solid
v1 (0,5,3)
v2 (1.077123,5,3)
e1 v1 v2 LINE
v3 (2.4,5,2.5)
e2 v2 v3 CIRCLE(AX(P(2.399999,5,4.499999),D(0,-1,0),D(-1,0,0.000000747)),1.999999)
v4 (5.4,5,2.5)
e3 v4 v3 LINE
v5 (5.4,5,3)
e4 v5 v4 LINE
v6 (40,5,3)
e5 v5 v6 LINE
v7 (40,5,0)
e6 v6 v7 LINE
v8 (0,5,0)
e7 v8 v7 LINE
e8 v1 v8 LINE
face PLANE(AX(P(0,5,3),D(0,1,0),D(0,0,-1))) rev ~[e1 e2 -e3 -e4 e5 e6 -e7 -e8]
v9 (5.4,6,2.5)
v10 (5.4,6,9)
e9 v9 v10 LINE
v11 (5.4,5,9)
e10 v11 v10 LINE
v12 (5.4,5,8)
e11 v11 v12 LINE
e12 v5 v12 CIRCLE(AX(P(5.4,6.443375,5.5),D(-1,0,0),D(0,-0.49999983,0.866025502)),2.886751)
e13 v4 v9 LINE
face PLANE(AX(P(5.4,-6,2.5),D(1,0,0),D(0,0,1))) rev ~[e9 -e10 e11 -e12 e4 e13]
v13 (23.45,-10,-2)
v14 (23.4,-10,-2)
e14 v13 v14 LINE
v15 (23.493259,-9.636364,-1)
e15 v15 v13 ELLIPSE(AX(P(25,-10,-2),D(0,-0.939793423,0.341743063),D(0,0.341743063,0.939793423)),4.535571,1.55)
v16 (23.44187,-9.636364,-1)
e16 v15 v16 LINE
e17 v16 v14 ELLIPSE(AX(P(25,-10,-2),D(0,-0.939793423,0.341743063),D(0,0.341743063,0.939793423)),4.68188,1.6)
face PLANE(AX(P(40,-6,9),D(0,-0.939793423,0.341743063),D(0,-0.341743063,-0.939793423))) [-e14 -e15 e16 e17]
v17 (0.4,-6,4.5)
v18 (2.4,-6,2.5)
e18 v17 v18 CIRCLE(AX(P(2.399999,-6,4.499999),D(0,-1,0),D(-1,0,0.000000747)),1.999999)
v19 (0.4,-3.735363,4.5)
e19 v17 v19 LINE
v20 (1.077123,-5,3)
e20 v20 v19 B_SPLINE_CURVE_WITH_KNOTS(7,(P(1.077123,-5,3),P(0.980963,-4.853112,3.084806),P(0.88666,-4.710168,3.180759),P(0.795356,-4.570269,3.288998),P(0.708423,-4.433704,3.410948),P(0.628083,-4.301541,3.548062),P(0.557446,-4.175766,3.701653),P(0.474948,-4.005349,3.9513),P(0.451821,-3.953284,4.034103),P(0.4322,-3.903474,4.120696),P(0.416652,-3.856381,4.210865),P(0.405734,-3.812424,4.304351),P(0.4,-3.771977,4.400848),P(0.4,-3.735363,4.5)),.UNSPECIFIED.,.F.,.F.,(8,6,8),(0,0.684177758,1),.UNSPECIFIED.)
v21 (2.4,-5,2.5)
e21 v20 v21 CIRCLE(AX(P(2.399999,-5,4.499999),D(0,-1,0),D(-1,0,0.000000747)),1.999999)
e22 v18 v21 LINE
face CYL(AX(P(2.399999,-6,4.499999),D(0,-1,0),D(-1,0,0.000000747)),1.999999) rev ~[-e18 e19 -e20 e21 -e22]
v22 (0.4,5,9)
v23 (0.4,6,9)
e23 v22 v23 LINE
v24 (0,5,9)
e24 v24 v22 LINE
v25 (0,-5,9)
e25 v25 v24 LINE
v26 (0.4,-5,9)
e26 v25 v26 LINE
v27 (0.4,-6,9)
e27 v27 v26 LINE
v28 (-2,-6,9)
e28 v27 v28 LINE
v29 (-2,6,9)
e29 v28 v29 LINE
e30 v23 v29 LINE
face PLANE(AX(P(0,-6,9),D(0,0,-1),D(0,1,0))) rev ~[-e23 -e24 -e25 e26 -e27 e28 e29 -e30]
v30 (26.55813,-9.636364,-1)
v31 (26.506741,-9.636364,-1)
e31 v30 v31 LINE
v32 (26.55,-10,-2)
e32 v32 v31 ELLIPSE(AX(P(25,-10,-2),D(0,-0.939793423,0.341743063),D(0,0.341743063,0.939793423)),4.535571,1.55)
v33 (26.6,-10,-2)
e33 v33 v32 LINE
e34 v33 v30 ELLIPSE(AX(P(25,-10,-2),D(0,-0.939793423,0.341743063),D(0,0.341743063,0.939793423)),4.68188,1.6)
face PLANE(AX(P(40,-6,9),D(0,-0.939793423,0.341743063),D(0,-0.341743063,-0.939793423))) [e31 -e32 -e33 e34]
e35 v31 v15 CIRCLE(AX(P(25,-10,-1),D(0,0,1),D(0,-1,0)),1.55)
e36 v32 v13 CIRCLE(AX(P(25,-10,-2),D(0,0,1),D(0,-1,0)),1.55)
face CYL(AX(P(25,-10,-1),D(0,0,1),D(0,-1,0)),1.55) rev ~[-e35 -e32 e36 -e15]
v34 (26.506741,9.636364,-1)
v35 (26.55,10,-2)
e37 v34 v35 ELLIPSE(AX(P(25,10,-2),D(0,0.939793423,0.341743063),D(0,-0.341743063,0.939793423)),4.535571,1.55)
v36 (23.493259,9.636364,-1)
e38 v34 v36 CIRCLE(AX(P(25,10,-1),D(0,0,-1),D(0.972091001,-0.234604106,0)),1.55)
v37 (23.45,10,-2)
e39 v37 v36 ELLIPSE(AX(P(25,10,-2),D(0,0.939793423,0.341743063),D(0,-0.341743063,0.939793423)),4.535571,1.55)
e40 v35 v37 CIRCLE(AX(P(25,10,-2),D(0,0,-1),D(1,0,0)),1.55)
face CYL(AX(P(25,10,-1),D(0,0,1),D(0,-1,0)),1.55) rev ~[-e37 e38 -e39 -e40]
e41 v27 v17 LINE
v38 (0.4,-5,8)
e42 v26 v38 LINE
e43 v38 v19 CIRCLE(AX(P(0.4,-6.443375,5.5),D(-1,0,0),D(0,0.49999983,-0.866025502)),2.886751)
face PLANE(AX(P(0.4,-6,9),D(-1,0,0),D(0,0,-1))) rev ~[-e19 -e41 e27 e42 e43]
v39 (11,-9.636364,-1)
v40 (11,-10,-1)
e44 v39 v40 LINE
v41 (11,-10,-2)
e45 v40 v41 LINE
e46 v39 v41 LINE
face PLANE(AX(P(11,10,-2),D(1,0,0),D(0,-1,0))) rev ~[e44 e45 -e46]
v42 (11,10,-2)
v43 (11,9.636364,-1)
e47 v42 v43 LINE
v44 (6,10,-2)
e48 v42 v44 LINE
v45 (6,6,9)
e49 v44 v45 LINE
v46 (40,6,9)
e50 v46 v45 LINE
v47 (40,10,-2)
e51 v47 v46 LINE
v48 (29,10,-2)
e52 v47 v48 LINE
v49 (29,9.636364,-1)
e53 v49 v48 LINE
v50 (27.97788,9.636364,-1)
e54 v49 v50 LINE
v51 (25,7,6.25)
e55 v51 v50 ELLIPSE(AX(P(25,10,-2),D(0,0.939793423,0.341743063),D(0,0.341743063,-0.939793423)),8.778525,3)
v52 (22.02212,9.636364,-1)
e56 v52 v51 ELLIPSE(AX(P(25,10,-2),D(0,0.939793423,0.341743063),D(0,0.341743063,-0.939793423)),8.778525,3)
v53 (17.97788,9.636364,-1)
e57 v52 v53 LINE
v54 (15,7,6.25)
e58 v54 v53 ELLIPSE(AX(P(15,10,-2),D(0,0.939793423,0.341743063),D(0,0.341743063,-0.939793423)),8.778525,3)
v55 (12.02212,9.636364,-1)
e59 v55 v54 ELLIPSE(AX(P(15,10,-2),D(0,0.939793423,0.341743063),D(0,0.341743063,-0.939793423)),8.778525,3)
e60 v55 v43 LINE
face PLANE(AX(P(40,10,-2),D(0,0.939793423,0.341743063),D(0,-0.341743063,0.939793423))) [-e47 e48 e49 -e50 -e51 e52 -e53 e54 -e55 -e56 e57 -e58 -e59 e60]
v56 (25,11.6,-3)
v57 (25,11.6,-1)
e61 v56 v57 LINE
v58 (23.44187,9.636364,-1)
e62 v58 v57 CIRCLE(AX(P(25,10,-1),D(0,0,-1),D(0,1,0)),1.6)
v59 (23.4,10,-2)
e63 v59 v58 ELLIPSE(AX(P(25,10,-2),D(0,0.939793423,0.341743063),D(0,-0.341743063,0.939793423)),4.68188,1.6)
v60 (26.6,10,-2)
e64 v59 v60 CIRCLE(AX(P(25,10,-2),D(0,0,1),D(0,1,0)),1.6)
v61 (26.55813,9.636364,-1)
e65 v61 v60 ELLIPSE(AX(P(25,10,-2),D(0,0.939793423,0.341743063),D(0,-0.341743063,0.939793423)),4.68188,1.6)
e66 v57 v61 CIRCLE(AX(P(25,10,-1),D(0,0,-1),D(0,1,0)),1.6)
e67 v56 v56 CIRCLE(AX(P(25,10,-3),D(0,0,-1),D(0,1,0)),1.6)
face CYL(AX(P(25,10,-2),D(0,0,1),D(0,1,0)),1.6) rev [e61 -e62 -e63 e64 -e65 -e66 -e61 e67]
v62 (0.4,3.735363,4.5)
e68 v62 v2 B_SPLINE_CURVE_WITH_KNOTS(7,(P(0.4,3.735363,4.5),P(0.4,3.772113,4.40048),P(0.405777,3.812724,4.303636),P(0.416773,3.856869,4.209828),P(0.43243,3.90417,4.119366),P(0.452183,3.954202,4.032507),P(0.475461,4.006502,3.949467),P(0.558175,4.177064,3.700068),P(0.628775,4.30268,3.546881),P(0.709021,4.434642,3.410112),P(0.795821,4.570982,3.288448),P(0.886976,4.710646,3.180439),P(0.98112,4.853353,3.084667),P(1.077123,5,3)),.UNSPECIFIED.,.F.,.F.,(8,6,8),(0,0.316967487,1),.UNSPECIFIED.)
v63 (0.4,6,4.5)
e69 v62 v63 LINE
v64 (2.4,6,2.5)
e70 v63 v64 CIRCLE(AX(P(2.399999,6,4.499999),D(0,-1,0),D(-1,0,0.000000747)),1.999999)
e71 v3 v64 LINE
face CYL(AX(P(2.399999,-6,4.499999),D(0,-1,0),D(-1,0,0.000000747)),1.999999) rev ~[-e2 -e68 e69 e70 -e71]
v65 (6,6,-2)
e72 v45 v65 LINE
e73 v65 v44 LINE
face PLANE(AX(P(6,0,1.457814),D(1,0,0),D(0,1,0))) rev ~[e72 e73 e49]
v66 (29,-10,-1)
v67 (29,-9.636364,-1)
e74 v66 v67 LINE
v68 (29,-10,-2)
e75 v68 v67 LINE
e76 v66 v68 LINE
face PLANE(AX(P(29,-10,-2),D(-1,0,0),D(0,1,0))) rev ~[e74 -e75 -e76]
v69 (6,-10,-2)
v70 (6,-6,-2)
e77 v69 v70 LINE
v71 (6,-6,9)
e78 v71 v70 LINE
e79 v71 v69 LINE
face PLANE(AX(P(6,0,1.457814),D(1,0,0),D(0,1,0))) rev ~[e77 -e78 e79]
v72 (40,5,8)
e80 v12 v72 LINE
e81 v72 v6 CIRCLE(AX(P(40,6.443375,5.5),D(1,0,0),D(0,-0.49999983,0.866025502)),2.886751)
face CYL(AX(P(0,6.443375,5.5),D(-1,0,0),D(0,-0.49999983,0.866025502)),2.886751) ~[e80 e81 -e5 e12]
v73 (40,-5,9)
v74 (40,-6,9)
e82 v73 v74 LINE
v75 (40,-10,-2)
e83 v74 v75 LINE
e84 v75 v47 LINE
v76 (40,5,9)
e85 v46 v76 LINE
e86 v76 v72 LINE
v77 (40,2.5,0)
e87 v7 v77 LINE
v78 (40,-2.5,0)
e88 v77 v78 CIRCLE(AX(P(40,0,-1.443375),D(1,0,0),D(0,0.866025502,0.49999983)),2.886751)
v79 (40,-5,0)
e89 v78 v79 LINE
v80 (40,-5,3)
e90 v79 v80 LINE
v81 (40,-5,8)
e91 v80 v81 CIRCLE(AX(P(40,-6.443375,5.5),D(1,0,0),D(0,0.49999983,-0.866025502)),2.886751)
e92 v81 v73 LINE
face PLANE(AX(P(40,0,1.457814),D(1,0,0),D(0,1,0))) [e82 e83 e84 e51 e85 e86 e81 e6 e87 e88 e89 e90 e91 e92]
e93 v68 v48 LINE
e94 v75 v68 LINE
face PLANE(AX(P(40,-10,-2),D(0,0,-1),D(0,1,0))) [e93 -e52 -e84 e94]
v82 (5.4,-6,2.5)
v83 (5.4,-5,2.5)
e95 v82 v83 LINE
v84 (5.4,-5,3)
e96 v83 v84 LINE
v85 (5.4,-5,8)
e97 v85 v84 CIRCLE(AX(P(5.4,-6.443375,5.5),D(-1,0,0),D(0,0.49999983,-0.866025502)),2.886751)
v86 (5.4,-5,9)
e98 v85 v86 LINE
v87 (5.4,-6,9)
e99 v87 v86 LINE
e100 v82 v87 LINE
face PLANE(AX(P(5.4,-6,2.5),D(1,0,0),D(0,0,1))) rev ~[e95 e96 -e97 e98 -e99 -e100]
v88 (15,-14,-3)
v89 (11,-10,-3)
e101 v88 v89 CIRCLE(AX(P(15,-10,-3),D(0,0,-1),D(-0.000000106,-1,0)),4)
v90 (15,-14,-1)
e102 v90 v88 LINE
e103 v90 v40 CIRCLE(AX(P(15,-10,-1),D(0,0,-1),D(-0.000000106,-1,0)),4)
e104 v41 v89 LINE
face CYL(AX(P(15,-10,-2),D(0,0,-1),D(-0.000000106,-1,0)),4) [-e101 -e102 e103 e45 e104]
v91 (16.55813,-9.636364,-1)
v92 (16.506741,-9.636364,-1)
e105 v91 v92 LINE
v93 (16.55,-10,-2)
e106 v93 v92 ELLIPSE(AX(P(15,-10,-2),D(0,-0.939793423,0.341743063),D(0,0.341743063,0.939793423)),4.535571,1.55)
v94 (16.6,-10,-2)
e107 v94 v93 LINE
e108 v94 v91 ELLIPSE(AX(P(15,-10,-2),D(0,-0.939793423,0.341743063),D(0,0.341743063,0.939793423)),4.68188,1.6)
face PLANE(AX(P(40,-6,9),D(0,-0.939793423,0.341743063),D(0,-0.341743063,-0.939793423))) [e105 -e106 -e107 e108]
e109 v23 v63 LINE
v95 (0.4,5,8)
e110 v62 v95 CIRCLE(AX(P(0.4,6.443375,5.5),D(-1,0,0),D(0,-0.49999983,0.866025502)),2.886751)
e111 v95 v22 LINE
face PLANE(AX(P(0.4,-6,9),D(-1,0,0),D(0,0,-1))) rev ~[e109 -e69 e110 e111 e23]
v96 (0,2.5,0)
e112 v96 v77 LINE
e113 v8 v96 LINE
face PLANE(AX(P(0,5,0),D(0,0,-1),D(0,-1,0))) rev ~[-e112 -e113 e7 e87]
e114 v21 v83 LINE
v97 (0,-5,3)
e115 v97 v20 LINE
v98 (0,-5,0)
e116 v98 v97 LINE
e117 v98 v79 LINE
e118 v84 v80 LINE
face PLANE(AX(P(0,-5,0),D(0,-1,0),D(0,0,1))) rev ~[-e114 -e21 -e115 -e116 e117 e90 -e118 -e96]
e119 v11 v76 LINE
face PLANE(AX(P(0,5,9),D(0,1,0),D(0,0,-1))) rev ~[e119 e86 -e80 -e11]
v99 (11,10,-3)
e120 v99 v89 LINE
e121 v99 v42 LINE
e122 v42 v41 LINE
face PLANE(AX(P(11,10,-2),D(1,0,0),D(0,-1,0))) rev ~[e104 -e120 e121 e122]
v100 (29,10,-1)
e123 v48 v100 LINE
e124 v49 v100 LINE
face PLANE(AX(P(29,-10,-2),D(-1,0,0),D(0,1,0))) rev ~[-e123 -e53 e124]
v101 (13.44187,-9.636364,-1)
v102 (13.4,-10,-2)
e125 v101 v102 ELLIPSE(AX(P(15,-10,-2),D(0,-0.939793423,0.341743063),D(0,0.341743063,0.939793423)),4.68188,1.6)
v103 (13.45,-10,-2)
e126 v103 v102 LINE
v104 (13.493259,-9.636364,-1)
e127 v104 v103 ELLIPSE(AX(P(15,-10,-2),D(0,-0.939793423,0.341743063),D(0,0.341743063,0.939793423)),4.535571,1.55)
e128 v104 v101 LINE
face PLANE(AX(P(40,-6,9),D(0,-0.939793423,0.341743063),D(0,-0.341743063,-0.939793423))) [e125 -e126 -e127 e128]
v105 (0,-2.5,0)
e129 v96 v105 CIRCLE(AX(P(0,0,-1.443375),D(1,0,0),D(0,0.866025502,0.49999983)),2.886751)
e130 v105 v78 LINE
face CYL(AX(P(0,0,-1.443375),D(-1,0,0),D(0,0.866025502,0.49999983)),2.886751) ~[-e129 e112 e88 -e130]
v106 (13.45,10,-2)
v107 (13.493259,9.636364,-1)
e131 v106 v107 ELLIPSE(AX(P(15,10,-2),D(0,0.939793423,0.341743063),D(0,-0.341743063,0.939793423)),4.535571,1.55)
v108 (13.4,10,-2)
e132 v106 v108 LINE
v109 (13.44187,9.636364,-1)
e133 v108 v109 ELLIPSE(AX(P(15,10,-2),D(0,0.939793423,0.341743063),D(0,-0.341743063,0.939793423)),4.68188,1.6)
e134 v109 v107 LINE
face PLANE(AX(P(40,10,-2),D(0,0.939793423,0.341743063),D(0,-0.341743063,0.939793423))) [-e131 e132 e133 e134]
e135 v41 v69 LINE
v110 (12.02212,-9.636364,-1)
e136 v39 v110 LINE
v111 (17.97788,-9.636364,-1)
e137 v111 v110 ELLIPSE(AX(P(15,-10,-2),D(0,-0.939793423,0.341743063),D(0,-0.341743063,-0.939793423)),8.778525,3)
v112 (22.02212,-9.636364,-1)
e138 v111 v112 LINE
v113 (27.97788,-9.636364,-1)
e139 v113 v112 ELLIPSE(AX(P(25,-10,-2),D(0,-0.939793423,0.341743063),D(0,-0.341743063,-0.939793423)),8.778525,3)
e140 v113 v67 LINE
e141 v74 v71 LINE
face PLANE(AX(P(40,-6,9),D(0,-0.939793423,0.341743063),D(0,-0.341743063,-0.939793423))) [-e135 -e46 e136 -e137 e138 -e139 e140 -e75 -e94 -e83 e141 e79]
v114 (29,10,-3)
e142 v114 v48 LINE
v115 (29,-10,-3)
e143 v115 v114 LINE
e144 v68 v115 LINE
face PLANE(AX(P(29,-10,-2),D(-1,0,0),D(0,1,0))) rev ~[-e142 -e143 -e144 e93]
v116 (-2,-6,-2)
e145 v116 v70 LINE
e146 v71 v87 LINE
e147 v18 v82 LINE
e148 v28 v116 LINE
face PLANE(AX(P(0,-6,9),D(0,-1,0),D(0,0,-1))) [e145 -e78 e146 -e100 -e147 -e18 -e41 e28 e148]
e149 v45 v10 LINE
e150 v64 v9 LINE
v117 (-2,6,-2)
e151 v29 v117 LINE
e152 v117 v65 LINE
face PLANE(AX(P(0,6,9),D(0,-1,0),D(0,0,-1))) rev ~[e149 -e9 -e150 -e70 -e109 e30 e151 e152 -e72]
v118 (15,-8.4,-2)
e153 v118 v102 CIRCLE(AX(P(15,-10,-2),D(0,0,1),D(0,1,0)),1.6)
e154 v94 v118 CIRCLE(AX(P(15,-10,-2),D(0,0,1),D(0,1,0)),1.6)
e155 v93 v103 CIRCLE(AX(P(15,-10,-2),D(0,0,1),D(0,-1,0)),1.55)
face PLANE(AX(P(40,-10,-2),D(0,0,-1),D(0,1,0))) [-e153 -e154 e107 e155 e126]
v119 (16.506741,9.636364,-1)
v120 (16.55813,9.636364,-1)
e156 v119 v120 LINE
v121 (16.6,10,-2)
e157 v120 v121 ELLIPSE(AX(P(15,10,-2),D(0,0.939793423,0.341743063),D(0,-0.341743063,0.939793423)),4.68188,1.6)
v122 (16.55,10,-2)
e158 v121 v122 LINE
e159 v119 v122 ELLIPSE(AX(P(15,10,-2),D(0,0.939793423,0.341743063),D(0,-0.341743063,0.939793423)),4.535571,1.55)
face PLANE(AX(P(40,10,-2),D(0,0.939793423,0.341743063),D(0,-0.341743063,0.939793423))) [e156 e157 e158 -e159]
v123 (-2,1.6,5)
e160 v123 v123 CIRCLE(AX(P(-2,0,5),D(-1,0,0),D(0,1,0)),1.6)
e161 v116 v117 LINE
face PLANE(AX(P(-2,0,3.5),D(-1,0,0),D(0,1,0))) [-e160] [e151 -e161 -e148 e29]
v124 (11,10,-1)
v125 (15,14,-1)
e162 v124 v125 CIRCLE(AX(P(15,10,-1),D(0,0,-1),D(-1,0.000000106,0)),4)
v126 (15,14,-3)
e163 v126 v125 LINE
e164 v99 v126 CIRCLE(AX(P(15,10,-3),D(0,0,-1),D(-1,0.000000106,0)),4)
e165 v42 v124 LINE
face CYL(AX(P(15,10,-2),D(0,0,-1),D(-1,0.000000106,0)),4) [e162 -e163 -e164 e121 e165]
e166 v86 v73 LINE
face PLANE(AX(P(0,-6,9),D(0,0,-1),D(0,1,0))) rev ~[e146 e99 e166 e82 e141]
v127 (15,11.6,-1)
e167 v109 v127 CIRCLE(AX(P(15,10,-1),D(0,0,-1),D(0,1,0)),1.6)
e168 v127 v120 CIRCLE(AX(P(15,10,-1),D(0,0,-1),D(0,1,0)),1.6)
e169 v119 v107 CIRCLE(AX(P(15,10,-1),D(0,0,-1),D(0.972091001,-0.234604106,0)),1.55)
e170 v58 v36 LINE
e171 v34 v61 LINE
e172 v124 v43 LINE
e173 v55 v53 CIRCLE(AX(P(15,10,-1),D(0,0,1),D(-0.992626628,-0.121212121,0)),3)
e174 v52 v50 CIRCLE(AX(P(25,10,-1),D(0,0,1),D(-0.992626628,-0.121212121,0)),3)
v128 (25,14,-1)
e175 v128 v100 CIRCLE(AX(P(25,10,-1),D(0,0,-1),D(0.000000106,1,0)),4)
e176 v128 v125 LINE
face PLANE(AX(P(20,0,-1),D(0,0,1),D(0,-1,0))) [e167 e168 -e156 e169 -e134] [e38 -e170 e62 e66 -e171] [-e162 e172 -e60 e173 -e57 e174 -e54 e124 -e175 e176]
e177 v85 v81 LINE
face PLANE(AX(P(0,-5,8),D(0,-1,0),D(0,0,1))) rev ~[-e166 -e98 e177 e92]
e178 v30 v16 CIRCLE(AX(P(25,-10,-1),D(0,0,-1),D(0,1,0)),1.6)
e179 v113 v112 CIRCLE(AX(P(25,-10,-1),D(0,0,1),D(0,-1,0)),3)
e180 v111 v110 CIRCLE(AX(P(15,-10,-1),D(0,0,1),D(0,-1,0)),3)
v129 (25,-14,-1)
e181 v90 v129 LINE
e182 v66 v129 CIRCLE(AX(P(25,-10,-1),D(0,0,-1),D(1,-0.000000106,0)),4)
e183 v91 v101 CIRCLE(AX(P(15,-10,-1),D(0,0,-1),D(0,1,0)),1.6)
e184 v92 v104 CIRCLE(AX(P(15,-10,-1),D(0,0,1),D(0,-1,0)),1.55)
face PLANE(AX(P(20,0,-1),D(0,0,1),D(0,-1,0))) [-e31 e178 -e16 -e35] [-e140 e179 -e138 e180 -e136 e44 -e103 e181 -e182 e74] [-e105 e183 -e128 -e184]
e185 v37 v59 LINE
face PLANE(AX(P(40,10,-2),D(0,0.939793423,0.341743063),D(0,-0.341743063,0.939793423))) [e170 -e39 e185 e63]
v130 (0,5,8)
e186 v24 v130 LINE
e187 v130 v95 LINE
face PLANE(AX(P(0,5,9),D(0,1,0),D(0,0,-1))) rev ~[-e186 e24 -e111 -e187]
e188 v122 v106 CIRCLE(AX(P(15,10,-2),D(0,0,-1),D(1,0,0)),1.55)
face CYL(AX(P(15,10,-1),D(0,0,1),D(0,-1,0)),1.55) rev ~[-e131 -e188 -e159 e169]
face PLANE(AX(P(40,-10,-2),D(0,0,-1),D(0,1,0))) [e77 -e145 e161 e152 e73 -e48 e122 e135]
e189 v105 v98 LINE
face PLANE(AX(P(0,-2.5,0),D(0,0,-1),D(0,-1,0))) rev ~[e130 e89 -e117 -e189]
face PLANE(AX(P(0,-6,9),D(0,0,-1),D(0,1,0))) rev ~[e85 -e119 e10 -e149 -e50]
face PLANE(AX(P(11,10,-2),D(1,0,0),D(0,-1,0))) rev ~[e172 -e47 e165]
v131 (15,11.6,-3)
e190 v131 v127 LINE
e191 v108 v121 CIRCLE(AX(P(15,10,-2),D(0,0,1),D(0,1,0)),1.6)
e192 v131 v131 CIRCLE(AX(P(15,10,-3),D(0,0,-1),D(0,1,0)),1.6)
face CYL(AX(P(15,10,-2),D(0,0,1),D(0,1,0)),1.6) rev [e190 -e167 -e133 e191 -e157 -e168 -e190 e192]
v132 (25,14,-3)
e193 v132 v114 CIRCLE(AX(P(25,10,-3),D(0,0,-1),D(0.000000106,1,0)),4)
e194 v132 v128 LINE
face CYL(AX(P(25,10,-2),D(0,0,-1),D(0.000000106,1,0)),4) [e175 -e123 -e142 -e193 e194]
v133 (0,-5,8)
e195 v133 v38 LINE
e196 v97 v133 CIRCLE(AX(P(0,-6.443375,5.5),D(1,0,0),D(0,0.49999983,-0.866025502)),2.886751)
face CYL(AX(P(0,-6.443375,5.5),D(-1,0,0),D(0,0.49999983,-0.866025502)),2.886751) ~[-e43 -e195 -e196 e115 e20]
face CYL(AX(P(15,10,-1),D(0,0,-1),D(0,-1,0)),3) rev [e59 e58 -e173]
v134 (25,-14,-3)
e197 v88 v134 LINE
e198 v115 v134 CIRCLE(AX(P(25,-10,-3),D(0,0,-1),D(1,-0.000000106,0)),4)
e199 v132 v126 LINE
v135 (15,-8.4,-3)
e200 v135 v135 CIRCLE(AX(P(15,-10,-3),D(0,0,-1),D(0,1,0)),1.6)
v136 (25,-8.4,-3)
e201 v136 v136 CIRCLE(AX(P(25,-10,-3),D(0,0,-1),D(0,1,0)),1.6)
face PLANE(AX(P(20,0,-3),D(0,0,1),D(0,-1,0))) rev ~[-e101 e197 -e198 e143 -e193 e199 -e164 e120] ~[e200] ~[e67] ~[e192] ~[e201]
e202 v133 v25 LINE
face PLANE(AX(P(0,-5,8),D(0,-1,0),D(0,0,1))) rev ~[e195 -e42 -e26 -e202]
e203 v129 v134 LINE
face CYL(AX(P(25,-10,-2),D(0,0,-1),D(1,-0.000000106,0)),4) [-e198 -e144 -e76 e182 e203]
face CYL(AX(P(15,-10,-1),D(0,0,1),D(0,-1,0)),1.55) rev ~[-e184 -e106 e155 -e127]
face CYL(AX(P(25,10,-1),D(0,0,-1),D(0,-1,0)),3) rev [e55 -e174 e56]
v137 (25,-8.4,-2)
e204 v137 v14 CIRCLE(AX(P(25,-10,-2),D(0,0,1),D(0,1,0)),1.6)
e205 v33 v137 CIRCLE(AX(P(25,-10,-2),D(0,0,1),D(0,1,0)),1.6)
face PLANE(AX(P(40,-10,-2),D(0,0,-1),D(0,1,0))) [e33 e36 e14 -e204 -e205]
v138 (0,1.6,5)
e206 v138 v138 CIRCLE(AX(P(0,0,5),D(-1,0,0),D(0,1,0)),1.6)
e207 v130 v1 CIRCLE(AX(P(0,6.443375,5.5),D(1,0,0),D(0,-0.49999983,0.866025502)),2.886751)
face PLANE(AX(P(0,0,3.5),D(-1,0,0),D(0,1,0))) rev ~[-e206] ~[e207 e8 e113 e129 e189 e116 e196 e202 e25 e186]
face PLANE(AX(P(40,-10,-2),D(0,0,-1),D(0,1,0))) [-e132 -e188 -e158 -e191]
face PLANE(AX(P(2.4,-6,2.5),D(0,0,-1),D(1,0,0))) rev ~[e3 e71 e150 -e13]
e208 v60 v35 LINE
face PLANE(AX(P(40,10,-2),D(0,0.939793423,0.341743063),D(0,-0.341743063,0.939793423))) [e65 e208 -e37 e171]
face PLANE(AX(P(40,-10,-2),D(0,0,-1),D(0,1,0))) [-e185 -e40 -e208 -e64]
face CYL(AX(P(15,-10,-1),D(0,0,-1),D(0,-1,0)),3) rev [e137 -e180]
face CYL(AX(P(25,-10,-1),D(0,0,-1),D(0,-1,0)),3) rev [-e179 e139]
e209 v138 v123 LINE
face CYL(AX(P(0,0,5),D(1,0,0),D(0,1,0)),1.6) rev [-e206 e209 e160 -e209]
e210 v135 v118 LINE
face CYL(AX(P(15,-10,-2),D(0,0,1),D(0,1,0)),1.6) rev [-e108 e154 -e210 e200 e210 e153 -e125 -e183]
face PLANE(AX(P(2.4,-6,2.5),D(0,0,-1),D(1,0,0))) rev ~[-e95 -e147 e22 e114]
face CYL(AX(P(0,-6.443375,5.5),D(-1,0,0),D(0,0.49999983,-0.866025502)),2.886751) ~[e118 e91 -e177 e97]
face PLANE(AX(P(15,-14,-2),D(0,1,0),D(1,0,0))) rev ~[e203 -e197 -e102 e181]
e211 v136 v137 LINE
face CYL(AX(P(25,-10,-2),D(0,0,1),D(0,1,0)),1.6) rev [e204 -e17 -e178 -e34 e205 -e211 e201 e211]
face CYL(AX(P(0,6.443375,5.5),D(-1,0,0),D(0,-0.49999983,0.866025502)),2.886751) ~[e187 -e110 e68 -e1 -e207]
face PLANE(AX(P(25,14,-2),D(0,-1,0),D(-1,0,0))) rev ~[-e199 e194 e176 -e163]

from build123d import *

# Parameters (mm, degrees)
PAD_DEPTH       = 40
SKETCH001_W     = 12
SKETCH001_H     = 11
SKETCH001_R     = 1.6
PAD001_DEPTH    = 2
SKETCH002_R     = 1.6
PAD002_DEPTH    = 1
POCKET_DEPTH    = 20.001
PAD003_DEPTH    = 34
SKETCH005_R     = 3
POCKET001_DEPTH = 11
SKETCH006_R     = 1.55
POCKET002_DEPTH = 5


with BuildPart() as part:
    # Sketch → Pad (new body)
    with BuildSketch(Plane.YZ):
        with BuildLine():
            Line((-5, 8), (-5, 9))
            Line((-5, 9), (-6, 9))
            Line((-6, 9), (-6, -2))
            Line((-6, -2), (6, -2))
            Line((6, -2), (6, 9))
            Line((6, 9), (5, 9))
            Line((5, 9), (5, 8))
            ThreePointArc((5, 8), (3.556624, 5.5), (5, 3))
            Line((5, 3), (5, 0))
            Line((5, 0), (2.5, 0))
            ThreePointArc((2.5, 0), (0, 1.443376), (-2.5, 0))
            Line((-2.5, 0), (-5, 0))
            Line((-5, 0), (-5, 3))
            ThreePointArc((-5, 3), (-3.556624, 5.5), (-5, 8))
        make_face()
    extrude(amount=PAD_DEPTH)

    # Sketch001 (on Face15 of Pad) → Pad001 (join)
    with BuildSketch(Plane(origin=(0, 0, 0), x_dir=(0, 1, 0), z_dir=(-1, 0, 0))):
        with Locations((0, -3.5)):
            Rectangle(SKETCH001_W, SKETCH001_H)
        with Locations((0, -5)):
            Circle(SKETCH001_R, mode=Mode.SUBTRACT)
    extrude(amount=PAD001_DEPTH)

    # Sketch002 (on Face16 of Pad001) → Pad002 (join, symmetric)
    with BuildSketch(Plane.YX.offset(2)):
        with BuildLine():
            Line((-10, 29), (10, 29))
            ThreePointArc((14, 25), (12.828427, 27.828427), (10, 29))
            Line((14, 25), (14, 15))
            ThreePointArc((10, 11), (12.828427, 12.171573), (14, 15))
            Line((10, 11), (-10, 11))
            ThreePointArc((-14, 15), (-12.828427, 12.171573), (-10, 11))
            Line((-14, 15), (-14, 25))
            ThreePointArc((-10, 29), (-12.828427, 27.828427), (-14, 25))
        make_face()
        with Locations((-10, 25)):
            Circle(SKETCH002_R, mode=Mode.SUBTRACT)
        with Locations((-10, 15)):
            Circle(SKETCH002_R, mode=Mode.SUBTRACT)
        with Locations((10, 15)):
            Circle(SKETCH002_R, mode=Mode.SUBTRACT)
        with Locations((10, 25)):
            Circle(SKETCH002_R, mode=Mode.SUBTRACT)
    extrude(amount=PAD002_DEPTH, both=True)

    # Sketch003 (on Face7 of Pad002) → Pocket (cut, through all)
    with BuildSketch(Plane(origin=(0, -6, 0), x_dir=(0, 0, -1), z_dir=(0, -1, 0))):
        with BuildLine():
            Line((-9, 0.4), (-4.5, 0.4))
            ThreePointArc((-4.5, 0.4), (-3.085786, 0.985786), (-2.5, 2.4))
            Line((-2.5, 2.4), (-2.5, 5.4))
            Line((-2.5, 5.4), (-9, 5.4))
            Line((-9, 5.4), (-9, 0.4))
        make_face()
    extrude(amount=-POCKET_DEPTH, mode=Mode.SUBTRACT)

    # Sketch004 (on Face23 of Pocket) → Pad003 (join)
    with BuildSketch(Plane.YZ.offset(40)):
        Polygon((-6, 9), (-10, -2), (10, -2), (6, 9), (6, -1), (-6, -1), align=None)
    extrude(amount=-PAD003_DEPTH)

    # Sketch005 (on Face52 of Pad003) → Pocket001 (cut)
    with BuildSketch(Plane(origin=(0, 0, -1), x_dir=(0, -1, 0), z_dir=(0, 0, 1))):
        with Locations((-10, 25)):
            Circle(SKETCH005_R)
        with Locations((10, 25)):
            Circle(SKETCH005_R)
        with Locations((10, 15)):
            Circle(SKETCH005_R)
        with Locations((-10, 15)):
            Circle(SKETCH005_R)
    extrude(amount=POCKET001_DEPTH, mode=Mode.SUBTRACT)

    # Sketch006 (on Face52 of Pocket001) → Pocket002 (cut)
    with BuildSketch(Plane(origin=(0, 0, -1), x_dir=(0, -1, 0), z_dir=(0, 0, 1))):
        with Locations((-10, 25)):
            Circle(SKETCH006_R)
        with Locations((-10, 15)):
            Circle(SKETCH006_R)
        with Locations((10, 25)):
            Circle(SKETCH006_R)
        with Locations((10, 15)):
            Circle(SKETCH006_R)
    extrude(amount=-POCKET002_DEPTH, mode=Mode.SUBTRACT)


solid = part.part
